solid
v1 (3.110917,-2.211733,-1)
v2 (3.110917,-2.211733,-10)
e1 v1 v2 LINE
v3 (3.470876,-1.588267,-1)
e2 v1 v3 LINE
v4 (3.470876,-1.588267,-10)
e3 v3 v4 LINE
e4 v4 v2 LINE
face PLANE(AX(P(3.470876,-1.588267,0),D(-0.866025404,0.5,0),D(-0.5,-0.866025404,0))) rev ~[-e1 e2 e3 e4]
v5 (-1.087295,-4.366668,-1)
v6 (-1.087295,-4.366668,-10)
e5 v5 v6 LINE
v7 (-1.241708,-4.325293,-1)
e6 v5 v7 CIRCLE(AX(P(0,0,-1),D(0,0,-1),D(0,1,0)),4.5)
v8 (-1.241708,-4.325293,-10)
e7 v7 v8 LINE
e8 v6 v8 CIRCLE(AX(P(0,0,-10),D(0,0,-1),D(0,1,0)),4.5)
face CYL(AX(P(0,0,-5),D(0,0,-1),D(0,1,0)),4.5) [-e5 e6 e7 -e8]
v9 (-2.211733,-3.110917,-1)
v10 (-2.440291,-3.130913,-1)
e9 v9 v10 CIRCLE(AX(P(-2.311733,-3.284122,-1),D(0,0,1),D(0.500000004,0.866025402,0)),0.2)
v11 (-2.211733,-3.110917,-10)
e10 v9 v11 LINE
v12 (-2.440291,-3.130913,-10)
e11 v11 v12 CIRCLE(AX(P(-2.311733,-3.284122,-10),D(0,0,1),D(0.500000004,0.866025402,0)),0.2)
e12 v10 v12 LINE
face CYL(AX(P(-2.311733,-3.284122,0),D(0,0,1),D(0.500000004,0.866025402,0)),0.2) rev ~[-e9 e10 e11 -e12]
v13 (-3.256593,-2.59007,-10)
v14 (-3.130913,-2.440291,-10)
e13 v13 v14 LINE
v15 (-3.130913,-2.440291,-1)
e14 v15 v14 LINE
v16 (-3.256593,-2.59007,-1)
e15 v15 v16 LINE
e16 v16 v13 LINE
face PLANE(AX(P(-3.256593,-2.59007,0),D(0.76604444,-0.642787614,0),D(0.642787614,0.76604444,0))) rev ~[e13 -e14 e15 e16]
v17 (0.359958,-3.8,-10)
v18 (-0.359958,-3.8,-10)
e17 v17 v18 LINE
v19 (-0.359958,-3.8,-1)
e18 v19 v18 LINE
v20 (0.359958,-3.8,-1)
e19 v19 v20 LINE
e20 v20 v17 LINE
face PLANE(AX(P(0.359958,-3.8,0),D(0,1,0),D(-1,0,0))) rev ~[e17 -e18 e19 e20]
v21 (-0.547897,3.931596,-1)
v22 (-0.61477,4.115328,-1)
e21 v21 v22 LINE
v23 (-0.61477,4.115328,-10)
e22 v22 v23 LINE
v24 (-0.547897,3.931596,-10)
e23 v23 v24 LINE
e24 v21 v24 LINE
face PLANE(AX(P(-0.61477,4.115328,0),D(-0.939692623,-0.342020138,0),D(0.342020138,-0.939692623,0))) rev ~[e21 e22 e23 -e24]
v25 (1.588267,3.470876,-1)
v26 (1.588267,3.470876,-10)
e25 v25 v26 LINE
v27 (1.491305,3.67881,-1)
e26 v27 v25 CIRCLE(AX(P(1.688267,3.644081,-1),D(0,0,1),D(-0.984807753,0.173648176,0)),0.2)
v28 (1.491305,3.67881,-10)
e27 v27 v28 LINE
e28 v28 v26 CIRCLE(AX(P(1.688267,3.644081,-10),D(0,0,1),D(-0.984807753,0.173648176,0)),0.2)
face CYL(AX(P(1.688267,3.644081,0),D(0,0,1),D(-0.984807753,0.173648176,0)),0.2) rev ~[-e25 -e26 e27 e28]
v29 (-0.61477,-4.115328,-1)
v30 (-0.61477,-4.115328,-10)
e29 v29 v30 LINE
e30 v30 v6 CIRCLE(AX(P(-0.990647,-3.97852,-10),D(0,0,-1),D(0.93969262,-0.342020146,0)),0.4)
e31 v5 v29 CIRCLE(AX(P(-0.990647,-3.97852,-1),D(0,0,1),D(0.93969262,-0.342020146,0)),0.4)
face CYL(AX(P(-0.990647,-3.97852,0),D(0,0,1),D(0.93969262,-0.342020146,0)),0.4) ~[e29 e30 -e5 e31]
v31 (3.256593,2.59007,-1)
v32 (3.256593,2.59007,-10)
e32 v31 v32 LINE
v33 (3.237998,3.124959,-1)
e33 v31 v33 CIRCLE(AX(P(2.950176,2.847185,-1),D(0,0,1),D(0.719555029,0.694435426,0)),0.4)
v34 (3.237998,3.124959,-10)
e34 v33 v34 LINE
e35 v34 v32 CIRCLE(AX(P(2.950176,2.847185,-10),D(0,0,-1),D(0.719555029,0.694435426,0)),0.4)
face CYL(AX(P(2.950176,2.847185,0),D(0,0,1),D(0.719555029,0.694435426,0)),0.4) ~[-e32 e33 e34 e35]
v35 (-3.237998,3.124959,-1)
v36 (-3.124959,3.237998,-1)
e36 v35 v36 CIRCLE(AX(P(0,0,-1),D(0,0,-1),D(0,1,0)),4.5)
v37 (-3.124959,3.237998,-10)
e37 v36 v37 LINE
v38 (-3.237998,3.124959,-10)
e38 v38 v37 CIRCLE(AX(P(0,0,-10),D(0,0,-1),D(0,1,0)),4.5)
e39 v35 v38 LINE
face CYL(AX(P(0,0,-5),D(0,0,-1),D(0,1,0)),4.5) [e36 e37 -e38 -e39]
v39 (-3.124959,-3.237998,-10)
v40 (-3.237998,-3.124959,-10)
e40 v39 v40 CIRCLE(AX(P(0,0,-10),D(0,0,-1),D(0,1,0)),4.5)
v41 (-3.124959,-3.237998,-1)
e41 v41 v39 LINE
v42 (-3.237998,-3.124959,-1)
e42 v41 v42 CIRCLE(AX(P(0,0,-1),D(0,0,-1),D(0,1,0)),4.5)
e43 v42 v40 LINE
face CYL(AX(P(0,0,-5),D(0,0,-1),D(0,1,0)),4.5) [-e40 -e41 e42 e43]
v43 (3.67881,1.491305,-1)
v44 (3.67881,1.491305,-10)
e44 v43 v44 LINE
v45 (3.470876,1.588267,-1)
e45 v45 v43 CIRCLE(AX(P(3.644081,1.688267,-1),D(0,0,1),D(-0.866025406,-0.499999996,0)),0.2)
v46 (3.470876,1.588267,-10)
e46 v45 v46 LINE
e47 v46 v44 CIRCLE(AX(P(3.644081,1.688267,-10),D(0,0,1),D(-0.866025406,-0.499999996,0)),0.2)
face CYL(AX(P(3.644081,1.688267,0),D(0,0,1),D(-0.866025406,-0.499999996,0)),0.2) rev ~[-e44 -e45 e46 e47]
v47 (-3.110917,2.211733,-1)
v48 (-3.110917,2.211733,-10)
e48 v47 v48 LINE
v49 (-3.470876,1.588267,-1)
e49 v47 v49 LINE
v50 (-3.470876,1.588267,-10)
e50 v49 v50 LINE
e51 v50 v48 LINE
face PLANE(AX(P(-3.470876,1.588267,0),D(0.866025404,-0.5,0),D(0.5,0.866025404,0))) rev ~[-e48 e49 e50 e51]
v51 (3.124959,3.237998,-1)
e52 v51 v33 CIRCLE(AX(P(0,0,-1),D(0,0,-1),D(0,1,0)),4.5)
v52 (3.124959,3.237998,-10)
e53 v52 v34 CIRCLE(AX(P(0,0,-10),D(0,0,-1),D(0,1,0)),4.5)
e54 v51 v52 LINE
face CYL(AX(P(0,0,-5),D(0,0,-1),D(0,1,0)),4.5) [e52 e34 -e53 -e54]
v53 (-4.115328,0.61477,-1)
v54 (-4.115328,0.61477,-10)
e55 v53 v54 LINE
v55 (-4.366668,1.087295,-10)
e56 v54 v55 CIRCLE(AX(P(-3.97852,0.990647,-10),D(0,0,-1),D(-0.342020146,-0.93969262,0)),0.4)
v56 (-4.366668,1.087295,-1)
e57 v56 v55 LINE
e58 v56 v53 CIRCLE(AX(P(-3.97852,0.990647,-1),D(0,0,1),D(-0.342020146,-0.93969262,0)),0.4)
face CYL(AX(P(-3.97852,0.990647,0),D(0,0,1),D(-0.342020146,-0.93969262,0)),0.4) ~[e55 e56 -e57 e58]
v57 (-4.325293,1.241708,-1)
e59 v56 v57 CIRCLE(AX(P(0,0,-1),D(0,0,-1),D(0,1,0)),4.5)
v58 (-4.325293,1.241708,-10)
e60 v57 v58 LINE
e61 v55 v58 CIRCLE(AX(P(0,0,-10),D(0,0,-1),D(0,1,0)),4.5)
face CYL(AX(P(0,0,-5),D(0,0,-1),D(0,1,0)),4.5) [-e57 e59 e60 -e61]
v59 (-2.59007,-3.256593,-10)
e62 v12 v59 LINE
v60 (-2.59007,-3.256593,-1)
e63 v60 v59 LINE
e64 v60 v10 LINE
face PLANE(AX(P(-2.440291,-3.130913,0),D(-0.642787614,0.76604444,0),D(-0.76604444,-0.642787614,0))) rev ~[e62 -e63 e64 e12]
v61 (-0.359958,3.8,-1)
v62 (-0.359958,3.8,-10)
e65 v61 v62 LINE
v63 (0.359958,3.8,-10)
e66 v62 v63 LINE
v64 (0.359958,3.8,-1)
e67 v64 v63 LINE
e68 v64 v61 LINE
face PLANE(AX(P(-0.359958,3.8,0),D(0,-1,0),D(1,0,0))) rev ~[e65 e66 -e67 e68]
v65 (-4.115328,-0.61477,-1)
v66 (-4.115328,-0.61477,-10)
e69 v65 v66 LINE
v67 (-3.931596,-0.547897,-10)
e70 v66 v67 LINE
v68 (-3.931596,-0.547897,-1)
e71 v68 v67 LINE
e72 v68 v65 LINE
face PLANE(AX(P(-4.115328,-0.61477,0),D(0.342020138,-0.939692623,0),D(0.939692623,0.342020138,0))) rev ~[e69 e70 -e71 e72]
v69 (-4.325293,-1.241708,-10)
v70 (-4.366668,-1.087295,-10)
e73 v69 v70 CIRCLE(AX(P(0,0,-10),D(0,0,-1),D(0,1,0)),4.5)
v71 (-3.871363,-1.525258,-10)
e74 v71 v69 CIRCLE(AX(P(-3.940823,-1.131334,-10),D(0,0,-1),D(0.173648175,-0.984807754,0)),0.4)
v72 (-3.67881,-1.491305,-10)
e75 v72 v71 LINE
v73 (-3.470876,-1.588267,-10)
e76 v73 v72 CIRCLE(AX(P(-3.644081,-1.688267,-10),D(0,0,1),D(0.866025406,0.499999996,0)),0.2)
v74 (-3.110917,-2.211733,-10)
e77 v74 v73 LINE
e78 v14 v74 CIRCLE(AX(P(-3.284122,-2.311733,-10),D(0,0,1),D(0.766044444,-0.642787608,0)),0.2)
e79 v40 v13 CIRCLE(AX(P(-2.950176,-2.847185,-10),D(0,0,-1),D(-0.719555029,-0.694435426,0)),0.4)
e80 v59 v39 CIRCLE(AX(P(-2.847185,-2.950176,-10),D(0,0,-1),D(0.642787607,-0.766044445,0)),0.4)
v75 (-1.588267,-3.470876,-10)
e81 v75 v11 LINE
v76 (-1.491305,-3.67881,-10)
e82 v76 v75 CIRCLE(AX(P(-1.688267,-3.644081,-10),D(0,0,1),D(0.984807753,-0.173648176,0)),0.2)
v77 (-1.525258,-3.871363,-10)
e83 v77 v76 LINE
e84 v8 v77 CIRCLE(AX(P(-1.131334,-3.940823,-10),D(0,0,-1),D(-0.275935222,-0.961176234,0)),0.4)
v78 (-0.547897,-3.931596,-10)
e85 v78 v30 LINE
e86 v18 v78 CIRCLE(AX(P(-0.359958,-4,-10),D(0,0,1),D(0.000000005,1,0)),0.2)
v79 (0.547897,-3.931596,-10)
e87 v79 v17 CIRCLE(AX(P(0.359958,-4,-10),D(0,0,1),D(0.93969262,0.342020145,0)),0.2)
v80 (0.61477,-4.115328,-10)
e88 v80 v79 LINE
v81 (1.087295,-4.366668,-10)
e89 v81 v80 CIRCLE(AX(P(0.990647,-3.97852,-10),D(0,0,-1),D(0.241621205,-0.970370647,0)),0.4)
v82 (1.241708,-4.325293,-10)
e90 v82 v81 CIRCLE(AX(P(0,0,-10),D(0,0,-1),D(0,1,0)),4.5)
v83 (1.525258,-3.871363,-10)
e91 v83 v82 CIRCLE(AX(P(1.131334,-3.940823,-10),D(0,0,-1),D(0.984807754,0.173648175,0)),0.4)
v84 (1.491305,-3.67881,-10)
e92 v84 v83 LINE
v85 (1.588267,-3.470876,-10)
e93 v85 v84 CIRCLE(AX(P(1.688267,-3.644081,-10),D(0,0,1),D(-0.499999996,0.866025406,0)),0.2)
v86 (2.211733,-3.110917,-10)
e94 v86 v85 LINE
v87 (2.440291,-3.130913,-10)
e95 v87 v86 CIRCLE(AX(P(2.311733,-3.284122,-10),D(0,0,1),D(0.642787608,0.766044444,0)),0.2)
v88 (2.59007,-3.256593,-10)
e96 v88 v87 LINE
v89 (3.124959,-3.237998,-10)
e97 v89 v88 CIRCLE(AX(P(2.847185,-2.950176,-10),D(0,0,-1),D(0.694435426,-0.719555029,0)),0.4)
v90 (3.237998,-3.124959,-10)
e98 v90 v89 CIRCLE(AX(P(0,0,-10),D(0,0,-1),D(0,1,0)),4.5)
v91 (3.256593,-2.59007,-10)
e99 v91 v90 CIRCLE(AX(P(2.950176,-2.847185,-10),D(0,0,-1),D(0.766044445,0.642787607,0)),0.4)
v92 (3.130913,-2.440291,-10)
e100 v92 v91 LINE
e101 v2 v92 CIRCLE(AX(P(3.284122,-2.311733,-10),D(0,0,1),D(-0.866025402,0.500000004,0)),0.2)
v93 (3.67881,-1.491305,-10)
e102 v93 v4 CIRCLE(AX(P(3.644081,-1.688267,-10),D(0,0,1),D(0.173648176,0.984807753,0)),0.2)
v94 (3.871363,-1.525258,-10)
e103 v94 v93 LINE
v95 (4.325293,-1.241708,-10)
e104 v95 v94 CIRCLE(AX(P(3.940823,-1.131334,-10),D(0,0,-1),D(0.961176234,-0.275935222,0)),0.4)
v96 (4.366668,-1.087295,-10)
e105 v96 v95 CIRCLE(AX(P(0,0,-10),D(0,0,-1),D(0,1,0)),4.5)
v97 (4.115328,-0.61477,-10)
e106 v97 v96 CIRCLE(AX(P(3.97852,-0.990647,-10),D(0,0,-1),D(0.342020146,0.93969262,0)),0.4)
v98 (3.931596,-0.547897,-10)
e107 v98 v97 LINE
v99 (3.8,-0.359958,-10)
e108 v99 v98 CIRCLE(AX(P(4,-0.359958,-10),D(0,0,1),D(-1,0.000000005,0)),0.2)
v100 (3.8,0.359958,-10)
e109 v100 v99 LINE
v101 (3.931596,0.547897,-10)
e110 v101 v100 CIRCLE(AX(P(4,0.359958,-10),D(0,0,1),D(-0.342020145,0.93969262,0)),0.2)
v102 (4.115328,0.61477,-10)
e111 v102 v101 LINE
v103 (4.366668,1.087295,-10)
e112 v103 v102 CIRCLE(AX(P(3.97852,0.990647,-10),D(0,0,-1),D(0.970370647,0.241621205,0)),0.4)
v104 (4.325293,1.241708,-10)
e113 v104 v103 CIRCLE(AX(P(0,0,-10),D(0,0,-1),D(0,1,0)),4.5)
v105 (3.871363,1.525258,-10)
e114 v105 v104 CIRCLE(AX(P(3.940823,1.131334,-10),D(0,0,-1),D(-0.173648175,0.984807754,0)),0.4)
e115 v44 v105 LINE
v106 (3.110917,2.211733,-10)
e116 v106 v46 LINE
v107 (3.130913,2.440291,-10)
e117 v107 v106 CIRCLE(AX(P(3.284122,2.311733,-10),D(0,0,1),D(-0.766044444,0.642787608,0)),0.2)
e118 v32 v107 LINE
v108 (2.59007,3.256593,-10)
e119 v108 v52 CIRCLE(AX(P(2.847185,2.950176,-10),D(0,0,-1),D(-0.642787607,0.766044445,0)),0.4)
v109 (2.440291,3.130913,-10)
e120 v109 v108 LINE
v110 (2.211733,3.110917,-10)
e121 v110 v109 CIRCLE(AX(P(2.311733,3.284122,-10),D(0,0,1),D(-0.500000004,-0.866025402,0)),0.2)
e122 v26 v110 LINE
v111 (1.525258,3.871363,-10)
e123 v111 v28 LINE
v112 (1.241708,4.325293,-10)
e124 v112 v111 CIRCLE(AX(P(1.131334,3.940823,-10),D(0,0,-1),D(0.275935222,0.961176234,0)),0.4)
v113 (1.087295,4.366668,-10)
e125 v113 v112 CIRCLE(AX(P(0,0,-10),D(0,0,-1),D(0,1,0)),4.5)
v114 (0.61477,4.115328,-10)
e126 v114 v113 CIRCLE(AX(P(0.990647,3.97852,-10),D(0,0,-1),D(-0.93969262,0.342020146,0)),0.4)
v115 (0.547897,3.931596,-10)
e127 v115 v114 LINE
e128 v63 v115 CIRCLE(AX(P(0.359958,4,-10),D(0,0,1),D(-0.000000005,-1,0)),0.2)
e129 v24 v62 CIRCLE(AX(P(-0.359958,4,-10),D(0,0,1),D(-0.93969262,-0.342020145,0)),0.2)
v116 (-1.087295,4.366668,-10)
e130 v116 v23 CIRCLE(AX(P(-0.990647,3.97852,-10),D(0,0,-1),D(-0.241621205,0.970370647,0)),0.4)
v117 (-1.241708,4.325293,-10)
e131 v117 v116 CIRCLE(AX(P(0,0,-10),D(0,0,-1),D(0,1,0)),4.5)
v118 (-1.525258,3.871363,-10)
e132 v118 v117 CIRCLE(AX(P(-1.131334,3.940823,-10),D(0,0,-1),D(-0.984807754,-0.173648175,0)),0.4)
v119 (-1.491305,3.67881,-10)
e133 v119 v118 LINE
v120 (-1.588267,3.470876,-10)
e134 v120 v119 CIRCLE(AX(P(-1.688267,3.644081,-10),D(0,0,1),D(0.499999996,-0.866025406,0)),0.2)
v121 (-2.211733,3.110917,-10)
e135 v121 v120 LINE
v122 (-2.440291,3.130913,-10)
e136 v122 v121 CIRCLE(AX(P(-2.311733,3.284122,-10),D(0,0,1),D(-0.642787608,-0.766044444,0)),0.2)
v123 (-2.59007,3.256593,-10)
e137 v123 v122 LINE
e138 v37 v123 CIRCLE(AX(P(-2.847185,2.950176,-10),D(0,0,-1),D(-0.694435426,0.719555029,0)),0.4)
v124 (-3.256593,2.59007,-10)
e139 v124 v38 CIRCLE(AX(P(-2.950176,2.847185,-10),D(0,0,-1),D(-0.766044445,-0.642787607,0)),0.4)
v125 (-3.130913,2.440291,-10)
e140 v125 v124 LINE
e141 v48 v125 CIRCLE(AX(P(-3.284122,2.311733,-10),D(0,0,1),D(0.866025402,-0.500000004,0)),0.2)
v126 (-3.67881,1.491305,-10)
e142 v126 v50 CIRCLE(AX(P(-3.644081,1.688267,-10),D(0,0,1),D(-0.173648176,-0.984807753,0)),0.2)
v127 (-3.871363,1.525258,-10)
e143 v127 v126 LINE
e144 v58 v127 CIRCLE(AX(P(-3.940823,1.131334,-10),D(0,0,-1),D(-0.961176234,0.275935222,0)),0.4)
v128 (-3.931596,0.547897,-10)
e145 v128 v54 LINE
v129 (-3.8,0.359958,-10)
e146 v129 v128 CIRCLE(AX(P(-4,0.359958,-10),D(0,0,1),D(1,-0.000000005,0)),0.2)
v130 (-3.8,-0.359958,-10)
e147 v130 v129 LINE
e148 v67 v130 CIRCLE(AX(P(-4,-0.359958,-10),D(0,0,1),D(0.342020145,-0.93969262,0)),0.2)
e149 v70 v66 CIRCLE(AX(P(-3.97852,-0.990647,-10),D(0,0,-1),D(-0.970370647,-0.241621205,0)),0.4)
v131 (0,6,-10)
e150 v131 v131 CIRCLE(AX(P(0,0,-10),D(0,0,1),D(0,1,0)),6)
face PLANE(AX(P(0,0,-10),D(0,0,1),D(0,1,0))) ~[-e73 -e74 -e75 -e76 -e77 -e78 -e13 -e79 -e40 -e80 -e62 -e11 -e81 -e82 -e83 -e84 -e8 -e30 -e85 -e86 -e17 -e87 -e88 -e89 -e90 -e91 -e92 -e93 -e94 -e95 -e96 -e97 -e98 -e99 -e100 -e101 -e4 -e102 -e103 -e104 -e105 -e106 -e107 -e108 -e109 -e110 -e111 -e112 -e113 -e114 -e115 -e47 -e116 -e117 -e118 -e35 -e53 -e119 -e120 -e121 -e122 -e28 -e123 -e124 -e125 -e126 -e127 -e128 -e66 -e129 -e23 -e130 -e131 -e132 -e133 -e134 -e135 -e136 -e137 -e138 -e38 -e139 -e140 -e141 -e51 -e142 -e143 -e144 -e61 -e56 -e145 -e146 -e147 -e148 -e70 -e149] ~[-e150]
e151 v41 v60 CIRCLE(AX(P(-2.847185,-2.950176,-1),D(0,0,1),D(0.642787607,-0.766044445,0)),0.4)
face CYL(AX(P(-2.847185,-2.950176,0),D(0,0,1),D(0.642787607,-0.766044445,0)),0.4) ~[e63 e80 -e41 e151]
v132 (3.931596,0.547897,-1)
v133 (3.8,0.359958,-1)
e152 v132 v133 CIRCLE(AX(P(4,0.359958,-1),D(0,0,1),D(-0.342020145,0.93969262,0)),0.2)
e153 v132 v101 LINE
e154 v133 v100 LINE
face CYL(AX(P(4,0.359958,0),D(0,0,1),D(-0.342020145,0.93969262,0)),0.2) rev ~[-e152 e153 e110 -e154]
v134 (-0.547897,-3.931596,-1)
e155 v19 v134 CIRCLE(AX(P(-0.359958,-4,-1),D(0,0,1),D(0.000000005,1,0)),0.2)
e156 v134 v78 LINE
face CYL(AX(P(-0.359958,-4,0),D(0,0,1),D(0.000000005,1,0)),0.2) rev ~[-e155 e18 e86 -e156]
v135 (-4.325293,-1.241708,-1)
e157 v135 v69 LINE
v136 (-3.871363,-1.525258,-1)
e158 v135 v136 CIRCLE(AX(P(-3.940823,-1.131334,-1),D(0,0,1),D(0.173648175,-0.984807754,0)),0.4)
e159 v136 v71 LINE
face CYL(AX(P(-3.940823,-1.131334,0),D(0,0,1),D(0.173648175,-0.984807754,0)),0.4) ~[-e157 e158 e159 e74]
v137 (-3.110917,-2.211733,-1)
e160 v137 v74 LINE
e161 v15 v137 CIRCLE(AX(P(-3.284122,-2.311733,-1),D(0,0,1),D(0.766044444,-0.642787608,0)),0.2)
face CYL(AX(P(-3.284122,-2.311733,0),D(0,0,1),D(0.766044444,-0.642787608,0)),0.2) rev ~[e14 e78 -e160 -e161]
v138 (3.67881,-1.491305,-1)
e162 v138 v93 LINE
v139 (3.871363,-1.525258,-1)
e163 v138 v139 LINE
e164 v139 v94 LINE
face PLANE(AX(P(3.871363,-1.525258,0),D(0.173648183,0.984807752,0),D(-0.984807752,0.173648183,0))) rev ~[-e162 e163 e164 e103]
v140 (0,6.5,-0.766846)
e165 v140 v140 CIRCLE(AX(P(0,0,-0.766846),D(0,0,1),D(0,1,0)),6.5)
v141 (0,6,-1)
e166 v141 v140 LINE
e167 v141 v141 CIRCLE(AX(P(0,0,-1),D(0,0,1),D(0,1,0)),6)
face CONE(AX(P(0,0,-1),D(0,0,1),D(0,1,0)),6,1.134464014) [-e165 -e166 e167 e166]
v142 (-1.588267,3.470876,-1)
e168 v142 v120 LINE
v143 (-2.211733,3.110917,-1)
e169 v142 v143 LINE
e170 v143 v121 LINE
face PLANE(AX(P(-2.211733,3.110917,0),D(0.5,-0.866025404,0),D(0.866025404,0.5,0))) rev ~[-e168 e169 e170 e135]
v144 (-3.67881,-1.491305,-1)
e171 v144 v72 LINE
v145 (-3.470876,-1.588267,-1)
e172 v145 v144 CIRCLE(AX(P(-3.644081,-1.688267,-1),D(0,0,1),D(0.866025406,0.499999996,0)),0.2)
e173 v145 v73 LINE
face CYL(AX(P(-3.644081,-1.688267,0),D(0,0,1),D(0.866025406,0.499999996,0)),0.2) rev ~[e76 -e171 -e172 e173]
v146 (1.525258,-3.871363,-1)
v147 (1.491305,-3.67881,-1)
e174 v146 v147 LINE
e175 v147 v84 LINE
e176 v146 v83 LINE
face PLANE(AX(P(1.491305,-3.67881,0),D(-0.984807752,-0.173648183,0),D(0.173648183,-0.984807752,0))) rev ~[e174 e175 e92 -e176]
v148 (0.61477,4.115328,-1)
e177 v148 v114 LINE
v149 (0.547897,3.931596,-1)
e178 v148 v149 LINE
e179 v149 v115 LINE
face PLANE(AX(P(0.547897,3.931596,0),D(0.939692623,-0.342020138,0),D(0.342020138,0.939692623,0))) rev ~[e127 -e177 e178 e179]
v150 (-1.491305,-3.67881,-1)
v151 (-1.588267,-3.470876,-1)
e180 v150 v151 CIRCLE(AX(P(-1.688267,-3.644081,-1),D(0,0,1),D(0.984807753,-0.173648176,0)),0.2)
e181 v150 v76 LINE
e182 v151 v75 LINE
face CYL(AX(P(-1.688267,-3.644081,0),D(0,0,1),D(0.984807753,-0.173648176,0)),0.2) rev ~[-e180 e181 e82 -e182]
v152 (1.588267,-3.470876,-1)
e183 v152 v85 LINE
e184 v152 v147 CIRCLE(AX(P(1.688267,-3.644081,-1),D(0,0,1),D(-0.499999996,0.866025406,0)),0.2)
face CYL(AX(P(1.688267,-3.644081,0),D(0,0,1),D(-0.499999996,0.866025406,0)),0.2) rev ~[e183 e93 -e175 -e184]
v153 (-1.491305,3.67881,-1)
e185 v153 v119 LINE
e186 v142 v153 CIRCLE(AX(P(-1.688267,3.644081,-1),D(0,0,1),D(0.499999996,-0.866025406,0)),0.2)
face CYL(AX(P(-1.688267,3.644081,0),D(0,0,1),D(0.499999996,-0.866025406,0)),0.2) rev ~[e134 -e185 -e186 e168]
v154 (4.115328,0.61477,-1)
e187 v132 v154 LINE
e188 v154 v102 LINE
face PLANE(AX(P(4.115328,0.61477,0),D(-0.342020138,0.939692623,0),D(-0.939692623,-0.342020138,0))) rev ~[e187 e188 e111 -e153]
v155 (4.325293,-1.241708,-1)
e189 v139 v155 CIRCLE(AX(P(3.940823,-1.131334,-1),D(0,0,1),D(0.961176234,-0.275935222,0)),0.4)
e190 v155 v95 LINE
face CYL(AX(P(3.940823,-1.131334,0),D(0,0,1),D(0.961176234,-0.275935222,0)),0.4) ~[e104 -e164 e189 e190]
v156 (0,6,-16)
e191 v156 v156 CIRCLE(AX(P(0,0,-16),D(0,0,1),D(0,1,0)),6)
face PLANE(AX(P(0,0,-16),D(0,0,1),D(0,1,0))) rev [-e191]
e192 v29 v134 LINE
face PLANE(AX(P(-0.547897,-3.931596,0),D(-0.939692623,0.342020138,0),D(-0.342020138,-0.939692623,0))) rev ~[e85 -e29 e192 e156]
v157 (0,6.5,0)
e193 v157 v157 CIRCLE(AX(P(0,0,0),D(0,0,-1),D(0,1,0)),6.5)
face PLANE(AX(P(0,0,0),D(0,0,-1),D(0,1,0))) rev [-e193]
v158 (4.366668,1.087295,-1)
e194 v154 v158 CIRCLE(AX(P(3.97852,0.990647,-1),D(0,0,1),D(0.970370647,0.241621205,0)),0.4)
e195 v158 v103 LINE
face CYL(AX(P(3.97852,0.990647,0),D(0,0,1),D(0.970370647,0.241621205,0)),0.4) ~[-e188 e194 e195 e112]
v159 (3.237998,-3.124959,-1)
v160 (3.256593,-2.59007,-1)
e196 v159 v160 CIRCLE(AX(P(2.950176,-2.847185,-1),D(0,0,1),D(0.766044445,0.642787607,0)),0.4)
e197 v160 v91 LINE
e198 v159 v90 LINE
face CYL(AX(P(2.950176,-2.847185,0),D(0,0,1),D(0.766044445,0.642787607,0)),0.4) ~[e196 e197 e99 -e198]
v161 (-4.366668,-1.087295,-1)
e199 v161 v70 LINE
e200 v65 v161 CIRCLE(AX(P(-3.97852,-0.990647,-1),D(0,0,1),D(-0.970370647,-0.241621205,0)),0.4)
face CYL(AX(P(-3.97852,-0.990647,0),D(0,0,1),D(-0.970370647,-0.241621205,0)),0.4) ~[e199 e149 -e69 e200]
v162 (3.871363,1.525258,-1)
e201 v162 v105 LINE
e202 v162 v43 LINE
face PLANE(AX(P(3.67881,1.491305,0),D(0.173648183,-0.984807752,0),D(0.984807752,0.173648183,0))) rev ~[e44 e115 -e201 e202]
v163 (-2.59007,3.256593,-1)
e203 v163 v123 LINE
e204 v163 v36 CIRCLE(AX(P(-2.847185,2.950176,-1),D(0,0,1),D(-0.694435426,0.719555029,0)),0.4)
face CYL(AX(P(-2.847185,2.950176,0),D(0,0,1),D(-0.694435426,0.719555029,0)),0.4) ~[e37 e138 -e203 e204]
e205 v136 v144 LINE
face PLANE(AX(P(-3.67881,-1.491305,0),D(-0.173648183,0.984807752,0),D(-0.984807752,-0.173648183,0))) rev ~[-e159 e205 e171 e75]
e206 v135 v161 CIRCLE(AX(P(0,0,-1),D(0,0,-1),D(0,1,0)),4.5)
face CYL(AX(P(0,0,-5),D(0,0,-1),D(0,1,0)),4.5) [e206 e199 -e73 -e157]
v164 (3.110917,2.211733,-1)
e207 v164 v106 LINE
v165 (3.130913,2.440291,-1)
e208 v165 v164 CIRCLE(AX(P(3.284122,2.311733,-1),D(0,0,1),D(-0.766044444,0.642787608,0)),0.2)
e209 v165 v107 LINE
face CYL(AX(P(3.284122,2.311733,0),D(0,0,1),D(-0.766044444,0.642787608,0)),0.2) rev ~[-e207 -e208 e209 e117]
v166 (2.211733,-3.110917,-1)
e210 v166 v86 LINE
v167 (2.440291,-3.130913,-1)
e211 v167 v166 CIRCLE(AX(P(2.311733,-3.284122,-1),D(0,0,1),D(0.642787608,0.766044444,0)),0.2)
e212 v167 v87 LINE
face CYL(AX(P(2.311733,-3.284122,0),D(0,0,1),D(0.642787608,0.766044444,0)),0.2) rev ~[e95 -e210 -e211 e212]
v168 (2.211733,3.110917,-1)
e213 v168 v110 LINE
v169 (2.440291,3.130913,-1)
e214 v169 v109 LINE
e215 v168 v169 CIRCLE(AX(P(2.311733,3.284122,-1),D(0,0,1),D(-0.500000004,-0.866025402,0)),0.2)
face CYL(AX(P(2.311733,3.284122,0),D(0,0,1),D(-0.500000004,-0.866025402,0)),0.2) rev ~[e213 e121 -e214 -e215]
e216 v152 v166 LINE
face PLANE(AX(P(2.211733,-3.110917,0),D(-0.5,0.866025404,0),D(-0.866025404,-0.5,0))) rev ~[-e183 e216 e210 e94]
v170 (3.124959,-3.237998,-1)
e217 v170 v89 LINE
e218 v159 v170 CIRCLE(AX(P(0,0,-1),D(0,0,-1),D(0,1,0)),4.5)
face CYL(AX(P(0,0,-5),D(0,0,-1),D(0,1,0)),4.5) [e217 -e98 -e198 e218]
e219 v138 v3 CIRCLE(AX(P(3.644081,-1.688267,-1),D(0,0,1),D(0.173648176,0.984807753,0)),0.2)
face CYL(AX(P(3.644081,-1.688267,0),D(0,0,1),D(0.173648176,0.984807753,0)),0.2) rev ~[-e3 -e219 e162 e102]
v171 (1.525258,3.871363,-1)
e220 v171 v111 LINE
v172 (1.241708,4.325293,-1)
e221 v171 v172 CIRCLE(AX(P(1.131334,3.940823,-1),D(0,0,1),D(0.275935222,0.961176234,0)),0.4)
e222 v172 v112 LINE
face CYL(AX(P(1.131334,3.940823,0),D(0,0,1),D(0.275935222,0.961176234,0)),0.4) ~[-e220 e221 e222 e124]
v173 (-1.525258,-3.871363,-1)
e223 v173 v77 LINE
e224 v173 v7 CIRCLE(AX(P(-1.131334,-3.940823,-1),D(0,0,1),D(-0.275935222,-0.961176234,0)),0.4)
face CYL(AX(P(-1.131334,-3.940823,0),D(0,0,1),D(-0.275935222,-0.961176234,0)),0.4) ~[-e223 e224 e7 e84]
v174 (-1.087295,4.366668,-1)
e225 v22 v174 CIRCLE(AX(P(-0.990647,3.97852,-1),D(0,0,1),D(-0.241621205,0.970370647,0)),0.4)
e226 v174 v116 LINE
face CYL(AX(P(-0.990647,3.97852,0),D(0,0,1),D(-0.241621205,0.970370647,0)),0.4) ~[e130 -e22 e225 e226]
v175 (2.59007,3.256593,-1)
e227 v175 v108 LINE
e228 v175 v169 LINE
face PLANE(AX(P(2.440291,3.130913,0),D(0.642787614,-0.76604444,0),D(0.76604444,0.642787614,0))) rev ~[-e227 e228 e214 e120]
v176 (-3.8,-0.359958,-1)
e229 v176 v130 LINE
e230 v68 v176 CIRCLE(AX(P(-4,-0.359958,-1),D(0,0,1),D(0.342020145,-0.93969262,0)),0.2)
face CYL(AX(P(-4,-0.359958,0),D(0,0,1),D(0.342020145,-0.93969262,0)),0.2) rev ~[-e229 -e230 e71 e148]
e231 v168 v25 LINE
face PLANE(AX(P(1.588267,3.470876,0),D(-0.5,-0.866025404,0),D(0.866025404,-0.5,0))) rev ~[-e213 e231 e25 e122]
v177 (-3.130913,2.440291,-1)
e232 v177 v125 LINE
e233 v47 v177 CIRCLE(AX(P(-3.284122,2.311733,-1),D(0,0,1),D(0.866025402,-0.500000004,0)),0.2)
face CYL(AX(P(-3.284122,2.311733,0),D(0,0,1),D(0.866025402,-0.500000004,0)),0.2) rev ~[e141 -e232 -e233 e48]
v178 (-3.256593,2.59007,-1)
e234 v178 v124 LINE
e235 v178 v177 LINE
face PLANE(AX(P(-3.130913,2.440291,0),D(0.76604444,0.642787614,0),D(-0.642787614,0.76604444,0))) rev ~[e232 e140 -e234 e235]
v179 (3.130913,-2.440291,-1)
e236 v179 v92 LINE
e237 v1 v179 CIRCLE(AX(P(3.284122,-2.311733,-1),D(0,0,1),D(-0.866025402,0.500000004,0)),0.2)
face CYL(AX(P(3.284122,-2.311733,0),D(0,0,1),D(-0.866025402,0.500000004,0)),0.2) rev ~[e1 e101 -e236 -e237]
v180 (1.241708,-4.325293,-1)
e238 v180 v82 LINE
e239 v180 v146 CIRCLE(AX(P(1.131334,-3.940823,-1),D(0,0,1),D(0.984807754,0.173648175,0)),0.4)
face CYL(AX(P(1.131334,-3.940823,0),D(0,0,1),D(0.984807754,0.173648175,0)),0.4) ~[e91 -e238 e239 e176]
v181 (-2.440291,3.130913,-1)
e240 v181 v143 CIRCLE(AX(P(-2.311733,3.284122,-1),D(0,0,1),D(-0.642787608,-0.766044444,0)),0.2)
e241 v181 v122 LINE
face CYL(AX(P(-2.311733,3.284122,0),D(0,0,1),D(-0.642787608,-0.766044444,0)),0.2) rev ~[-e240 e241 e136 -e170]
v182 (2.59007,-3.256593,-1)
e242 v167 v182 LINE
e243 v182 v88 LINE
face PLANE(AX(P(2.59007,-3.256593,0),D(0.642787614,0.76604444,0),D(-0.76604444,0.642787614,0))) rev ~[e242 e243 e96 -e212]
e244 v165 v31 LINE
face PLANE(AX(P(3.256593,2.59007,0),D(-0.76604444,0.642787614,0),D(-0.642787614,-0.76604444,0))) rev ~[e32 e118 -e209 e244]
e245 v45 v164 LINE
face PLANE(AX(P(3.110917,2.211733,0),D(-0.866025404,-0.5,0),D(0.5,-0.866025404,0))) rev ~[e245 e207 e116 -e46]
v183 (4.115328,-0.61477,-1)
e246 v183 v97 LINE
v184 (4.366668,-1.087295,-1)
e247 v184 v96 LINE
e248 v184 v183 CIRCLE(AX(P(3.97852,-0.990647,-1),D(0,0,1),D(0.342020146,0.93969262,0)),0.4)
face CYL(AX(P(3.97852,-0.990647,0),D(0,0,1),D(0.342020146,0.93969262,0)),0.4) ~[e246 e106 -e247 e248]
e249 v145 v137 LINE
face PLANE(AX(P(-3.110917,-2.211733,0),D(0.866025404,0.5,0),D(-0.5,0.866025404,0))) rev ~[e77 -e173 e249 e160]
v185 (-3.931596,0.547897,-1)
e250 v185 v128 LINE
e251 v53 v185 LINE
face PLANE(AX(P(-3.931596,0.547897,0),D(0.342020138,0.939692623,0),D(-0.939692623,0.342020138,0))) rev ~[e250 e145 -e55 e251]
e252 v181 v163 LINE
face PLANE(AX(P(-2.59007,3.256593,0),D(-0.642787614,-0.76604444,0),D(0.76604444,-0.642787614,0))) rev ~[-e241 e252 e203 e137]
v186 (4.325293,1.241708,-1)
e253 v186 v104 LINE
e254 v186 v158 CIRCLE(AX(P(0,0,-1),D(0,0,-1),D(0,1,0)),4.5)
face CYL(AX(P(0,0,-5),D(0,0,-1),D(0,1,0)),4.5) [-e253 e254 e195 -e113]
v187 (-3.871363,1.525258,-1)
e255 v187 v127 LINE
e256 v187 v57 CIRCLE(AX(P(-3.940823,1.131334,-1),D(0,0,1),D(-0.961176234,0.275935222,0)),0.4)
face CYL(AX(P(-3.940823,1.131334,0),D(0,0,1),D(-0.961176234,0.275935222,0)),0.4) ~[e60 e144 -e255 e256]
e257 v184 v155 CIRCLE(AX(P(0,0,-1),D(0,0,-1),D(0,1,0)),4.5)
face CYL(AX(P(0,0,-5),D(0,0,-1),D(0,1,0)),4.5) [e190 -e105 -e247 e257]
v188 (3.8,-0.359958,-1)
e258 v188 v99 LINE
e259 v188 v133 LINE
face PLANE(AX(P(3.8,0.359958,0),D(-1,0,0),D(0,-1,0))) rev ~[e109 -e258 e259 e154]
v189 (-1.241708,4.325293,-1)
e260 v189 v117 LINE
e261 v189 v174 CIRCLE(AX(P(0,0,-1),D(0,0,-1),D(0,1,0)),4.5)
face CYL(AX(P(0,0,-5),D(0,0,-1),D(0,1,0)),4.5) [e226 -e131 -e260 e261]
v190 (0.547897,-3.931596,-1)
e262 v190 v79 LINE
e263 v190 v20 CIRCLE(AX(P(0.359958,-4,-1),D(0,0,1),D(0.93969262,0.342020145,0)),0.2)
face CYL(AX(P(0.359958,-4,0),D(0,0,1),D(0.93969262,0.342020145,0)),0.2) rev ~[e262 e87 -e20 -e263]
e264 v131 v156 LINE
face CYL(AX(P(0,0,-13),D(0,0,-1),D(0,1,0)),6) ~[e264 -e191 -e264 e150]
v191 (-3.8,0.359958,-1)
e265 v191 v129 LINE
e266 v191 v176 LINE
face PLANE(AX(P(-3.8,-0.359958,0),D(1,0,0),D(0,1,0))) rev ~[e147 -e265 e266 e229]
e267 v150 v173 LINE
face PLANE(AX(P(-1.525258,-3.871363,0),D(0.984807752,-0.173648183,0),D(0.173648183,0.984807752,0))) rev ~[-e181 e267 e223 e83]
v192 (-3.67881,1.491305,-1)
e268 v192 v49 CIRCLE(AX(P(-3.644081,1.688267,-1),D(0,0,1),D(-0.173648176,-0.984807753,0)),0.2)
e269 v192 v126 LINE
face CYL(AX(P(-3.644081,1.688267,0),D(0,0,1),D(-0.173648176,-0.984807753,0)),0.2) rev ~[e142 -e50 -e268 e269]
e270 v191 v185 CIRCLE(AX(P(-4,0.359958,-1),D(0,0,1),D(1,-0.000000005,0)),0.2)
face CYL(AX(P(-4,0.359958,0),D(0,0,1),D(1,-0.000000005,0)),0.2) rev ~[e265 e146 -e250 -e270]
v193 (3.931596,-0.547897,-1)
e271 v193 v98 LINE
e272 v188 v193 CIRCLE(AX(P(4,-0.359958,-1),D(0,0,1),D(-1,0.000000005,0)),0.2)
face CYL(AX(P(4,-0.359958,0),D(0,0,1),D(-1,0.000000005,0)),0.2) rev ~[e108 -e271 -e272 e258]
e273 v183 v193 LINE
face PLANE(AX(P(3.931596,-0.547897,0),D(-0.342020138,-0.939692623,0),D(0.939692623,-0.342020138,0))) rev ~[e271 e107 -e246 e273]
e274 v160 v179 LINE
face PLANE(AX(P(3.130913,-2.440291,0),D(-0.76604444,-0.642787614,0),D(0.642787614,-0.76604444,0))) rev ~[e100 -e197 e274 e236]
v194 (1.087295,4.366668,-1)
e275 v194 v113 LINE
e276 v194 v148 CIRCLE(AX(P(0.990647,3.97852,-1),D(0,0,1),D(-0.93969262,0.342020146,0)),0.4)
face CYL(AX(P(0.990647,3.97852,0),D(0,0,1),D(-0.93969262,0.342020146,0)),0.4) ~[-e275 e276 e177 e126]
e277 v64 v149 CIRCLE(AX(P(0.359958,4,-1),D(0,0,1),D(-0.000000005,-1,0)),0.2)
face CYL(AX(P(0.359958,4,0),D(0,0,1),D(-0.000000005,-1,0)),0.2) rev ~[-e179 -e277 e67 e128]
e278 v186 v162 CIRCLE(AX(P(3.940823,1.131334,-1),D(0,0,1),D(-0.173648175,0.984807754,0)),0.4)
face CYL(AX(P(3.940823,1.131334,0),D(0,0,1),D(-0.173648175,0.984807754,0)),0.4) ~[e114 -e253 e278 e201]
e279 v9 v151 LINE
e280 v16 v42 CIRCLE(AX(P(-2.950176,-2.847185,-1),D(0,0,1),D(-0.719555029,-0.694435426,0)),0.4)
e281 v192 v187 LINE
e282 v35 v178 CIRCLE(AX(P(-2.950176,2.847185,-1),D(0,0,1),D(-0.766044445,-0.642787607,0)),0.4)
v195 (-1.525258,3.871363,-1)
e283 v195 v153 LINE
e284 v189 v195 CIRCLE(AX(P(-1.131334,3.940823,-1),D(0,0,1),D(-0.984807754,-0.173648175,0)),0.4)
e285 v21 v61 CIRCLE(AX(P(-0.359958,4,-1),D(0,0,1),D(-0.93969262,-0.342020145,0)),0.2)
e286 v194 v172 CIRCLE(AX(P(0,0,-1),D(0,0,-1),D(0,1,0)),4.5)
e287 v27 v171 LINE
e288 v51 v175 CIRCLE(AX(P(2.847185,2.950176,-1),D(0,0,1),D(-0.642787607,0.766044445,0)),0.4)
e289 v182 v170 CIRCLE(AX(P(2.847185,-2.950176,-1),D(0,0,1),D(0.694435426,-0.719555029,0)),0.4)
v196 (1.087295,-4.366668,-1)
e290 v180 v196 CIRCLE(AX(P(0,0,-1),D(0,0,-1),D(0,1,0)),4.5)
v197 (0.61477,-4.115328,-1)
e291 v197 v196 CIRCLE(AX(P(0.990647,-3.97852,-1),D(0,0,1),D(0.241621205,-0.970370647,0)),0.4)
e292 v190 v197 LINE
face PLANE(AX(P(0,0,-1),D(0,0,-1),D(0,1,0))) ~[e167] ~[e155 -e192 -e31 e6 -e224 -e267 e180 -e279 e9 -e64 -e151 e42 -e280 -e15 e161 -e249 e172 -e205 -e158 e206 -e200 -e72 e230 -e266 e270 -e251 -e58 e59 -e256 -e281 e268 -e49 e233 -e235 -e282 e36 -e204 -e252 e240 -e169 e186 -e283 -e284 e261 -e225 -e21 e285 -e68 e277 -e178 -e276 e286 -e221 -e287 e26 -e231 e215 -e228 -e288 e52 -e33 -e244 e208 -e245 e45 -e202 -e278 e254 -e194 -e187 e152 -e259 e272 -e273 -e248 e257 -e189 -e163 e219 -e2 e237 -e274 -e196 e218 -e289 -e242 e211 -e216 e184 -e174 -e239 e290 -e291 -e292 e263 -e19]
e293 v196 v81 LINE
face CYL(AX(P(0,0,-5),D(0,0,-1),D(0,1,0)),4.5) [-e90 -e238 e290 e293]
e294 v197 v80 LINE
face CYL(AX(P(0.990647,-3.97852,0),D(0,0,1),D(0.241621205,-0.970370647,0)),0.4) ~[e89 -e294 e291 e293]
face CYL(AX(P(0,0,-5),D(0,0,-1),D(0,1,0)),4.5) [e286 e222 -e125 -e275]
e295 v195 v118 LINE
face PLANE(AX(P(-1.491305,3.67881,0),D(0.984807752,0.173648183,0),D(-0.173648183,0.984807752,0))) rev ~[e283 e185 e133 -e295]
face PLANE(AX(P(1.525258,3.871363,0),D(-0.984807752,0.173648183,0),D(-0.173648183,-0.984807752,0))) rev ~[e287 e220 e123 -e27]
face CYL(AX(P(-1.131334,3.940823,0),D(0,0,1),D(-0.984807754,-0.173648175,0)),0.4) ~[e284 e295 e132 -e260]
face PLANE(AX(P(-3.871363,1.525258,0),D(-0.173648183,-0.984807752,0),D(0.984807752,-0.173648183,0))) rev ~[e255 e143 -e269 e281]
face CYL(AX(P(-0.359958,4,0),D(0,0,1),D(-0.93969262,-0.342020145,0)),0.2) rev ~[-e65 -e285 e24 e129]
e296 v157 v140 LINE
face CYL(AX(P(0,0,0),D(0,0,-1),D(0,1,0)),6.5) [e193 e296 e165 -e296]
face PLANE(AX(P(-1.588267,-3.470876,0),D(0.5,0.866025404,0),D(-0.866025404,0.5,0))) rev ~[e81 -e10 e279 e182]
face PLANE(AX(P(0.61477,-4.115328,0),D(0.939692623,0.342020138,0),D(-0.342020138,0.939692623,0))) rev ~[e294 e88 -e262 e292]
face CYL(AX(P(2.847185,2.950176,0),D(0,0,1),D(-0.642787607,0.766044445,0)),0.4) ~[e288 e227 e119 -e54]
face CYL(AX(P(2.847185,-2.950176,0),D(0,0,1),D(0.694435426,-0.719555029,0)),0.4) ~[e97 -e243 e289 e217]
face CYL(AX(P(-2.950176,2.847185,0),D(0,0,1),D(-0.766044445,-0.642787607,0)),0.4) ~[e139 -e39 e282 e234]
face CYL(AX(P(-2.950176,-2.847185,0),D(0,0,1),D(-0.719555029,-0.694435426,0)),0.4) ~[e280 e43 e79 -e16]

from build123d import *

# Parameters (mm, degrees)
SKETCH5_W           = 10
SKETCH5_H           = 4.5
SKETCH16_W          = 6
SKETCH16_H          = 6
CUT_TOOTH_DEPTH     = 10
PATTERN_TOOTH_COUNT = 12


with BuildPart() as part:
    # Sketch5 → body (revolve)
    with BuildSketch(Plane(origin=(0, 0, 0), x_dir=(0, 0, -1), z_dir=(1, 0, 0))):
        with Locations((5, 2.25)):
            Rectangle(SKETCH5_W, SKETCH5_H)
    revolve(axis=Axis((0, 0, 0), (0, 0, -1)))

    # Sketch16 → body-hub (revolve)
    with BuildSketch(Plane(origin=(0, 0, 0), x_dir=(0, 0, -1), z_dir=(1, 0, 0))):
        with Locations((13, 3)):
            Rectangle(SKETCH16_W, SKETCH16_H)
    revolve(axis=Axis((0, 0, -16), (0, 0, 1)))

    # Sketch23 → cut-tooth (cut)
    with BuildSketch(Plane.XY):
        with BuildLine():
            Line((0.547897017, 3.931595971), (0.6147699, 4.11532771))
            ThreePointArc((0.6147699, 4.11532771), (0.802803604, 4.331669589), (1.087295431, 4.366667911))
            Line((1.087295431, 4.366667911), (1.087295431, 4.933335822))
            Line((1.087295431, 4.933335822), (-1.087295431, 4.933335822))
            Line((-1.087295431, 4.933335822), (-1.087295431, 4.366667911))
            ThreePointArc((-1.087295431, 4.366667911), (-0.802803604, 4.331669589), (-0.6147699, 4.11532771))
            Line((-0.6147699, 4.11532771), (-0.547897017, 3.931595971))
            ThreePointArc((-0.547897017, 3.931595971), (-0.47467378, 3.836169591), (-0.359958492, 3.8))
            Line((-0.359958492, 3.8), (0.359958492, 3.8))
            ThreePointArc((0.359958492, 3.8), (0.47467378, 3.836169591), (0.547897017, 3.931595971))
        make_face()
    cut_tooth = extrude(amount=-CUT_TOOTH_DEPTH, mode=Mode.SUBTRACT)

    # pattern-tooth: cut-tooth ×12 about axis
    pattern_tooth_axis = Axis((0, 0, -10), (0, 0, 1))
    for i in range(1, PATTERN_TOOTH_COUNT):
        add(cut_tooth.rotate(pattern_tooth_axis, i * 360 / PATTERN_TOOTH_COUNT), mode=Mode.SUBTRACT)

    # Sketch25 → body-flange-front (revolve)
    with BuildSketch(Plane(origin=(0, 0, 0), x_dir=(0, 0, -1), z_dir=(1, 0, 0))):
        Polygon((1, 3.25), (0, 3.25), (0, 5.416666667), (0, 6.5), (1, 6.5), (1, 5.416666667), align=None)
    revolve(axis=Axis((0, 0, 0), (0, 0, -1)))

    # Sketch28 → body-flange-profile-front (revolve, cut)
    with BuildSketch(Plane(origin=(0, 0, 0), x_dir=(0, 0, -1), z_dir=(1, 0, 0))):
        Polygon((1, 6.5), (1, 6), (0.766846171, 6.5), align=None)
    revolve(axis=Axis((0, 0, -10), (0, 0, 1)), mode=Mode.SUBTRACT)


solid = part.part
